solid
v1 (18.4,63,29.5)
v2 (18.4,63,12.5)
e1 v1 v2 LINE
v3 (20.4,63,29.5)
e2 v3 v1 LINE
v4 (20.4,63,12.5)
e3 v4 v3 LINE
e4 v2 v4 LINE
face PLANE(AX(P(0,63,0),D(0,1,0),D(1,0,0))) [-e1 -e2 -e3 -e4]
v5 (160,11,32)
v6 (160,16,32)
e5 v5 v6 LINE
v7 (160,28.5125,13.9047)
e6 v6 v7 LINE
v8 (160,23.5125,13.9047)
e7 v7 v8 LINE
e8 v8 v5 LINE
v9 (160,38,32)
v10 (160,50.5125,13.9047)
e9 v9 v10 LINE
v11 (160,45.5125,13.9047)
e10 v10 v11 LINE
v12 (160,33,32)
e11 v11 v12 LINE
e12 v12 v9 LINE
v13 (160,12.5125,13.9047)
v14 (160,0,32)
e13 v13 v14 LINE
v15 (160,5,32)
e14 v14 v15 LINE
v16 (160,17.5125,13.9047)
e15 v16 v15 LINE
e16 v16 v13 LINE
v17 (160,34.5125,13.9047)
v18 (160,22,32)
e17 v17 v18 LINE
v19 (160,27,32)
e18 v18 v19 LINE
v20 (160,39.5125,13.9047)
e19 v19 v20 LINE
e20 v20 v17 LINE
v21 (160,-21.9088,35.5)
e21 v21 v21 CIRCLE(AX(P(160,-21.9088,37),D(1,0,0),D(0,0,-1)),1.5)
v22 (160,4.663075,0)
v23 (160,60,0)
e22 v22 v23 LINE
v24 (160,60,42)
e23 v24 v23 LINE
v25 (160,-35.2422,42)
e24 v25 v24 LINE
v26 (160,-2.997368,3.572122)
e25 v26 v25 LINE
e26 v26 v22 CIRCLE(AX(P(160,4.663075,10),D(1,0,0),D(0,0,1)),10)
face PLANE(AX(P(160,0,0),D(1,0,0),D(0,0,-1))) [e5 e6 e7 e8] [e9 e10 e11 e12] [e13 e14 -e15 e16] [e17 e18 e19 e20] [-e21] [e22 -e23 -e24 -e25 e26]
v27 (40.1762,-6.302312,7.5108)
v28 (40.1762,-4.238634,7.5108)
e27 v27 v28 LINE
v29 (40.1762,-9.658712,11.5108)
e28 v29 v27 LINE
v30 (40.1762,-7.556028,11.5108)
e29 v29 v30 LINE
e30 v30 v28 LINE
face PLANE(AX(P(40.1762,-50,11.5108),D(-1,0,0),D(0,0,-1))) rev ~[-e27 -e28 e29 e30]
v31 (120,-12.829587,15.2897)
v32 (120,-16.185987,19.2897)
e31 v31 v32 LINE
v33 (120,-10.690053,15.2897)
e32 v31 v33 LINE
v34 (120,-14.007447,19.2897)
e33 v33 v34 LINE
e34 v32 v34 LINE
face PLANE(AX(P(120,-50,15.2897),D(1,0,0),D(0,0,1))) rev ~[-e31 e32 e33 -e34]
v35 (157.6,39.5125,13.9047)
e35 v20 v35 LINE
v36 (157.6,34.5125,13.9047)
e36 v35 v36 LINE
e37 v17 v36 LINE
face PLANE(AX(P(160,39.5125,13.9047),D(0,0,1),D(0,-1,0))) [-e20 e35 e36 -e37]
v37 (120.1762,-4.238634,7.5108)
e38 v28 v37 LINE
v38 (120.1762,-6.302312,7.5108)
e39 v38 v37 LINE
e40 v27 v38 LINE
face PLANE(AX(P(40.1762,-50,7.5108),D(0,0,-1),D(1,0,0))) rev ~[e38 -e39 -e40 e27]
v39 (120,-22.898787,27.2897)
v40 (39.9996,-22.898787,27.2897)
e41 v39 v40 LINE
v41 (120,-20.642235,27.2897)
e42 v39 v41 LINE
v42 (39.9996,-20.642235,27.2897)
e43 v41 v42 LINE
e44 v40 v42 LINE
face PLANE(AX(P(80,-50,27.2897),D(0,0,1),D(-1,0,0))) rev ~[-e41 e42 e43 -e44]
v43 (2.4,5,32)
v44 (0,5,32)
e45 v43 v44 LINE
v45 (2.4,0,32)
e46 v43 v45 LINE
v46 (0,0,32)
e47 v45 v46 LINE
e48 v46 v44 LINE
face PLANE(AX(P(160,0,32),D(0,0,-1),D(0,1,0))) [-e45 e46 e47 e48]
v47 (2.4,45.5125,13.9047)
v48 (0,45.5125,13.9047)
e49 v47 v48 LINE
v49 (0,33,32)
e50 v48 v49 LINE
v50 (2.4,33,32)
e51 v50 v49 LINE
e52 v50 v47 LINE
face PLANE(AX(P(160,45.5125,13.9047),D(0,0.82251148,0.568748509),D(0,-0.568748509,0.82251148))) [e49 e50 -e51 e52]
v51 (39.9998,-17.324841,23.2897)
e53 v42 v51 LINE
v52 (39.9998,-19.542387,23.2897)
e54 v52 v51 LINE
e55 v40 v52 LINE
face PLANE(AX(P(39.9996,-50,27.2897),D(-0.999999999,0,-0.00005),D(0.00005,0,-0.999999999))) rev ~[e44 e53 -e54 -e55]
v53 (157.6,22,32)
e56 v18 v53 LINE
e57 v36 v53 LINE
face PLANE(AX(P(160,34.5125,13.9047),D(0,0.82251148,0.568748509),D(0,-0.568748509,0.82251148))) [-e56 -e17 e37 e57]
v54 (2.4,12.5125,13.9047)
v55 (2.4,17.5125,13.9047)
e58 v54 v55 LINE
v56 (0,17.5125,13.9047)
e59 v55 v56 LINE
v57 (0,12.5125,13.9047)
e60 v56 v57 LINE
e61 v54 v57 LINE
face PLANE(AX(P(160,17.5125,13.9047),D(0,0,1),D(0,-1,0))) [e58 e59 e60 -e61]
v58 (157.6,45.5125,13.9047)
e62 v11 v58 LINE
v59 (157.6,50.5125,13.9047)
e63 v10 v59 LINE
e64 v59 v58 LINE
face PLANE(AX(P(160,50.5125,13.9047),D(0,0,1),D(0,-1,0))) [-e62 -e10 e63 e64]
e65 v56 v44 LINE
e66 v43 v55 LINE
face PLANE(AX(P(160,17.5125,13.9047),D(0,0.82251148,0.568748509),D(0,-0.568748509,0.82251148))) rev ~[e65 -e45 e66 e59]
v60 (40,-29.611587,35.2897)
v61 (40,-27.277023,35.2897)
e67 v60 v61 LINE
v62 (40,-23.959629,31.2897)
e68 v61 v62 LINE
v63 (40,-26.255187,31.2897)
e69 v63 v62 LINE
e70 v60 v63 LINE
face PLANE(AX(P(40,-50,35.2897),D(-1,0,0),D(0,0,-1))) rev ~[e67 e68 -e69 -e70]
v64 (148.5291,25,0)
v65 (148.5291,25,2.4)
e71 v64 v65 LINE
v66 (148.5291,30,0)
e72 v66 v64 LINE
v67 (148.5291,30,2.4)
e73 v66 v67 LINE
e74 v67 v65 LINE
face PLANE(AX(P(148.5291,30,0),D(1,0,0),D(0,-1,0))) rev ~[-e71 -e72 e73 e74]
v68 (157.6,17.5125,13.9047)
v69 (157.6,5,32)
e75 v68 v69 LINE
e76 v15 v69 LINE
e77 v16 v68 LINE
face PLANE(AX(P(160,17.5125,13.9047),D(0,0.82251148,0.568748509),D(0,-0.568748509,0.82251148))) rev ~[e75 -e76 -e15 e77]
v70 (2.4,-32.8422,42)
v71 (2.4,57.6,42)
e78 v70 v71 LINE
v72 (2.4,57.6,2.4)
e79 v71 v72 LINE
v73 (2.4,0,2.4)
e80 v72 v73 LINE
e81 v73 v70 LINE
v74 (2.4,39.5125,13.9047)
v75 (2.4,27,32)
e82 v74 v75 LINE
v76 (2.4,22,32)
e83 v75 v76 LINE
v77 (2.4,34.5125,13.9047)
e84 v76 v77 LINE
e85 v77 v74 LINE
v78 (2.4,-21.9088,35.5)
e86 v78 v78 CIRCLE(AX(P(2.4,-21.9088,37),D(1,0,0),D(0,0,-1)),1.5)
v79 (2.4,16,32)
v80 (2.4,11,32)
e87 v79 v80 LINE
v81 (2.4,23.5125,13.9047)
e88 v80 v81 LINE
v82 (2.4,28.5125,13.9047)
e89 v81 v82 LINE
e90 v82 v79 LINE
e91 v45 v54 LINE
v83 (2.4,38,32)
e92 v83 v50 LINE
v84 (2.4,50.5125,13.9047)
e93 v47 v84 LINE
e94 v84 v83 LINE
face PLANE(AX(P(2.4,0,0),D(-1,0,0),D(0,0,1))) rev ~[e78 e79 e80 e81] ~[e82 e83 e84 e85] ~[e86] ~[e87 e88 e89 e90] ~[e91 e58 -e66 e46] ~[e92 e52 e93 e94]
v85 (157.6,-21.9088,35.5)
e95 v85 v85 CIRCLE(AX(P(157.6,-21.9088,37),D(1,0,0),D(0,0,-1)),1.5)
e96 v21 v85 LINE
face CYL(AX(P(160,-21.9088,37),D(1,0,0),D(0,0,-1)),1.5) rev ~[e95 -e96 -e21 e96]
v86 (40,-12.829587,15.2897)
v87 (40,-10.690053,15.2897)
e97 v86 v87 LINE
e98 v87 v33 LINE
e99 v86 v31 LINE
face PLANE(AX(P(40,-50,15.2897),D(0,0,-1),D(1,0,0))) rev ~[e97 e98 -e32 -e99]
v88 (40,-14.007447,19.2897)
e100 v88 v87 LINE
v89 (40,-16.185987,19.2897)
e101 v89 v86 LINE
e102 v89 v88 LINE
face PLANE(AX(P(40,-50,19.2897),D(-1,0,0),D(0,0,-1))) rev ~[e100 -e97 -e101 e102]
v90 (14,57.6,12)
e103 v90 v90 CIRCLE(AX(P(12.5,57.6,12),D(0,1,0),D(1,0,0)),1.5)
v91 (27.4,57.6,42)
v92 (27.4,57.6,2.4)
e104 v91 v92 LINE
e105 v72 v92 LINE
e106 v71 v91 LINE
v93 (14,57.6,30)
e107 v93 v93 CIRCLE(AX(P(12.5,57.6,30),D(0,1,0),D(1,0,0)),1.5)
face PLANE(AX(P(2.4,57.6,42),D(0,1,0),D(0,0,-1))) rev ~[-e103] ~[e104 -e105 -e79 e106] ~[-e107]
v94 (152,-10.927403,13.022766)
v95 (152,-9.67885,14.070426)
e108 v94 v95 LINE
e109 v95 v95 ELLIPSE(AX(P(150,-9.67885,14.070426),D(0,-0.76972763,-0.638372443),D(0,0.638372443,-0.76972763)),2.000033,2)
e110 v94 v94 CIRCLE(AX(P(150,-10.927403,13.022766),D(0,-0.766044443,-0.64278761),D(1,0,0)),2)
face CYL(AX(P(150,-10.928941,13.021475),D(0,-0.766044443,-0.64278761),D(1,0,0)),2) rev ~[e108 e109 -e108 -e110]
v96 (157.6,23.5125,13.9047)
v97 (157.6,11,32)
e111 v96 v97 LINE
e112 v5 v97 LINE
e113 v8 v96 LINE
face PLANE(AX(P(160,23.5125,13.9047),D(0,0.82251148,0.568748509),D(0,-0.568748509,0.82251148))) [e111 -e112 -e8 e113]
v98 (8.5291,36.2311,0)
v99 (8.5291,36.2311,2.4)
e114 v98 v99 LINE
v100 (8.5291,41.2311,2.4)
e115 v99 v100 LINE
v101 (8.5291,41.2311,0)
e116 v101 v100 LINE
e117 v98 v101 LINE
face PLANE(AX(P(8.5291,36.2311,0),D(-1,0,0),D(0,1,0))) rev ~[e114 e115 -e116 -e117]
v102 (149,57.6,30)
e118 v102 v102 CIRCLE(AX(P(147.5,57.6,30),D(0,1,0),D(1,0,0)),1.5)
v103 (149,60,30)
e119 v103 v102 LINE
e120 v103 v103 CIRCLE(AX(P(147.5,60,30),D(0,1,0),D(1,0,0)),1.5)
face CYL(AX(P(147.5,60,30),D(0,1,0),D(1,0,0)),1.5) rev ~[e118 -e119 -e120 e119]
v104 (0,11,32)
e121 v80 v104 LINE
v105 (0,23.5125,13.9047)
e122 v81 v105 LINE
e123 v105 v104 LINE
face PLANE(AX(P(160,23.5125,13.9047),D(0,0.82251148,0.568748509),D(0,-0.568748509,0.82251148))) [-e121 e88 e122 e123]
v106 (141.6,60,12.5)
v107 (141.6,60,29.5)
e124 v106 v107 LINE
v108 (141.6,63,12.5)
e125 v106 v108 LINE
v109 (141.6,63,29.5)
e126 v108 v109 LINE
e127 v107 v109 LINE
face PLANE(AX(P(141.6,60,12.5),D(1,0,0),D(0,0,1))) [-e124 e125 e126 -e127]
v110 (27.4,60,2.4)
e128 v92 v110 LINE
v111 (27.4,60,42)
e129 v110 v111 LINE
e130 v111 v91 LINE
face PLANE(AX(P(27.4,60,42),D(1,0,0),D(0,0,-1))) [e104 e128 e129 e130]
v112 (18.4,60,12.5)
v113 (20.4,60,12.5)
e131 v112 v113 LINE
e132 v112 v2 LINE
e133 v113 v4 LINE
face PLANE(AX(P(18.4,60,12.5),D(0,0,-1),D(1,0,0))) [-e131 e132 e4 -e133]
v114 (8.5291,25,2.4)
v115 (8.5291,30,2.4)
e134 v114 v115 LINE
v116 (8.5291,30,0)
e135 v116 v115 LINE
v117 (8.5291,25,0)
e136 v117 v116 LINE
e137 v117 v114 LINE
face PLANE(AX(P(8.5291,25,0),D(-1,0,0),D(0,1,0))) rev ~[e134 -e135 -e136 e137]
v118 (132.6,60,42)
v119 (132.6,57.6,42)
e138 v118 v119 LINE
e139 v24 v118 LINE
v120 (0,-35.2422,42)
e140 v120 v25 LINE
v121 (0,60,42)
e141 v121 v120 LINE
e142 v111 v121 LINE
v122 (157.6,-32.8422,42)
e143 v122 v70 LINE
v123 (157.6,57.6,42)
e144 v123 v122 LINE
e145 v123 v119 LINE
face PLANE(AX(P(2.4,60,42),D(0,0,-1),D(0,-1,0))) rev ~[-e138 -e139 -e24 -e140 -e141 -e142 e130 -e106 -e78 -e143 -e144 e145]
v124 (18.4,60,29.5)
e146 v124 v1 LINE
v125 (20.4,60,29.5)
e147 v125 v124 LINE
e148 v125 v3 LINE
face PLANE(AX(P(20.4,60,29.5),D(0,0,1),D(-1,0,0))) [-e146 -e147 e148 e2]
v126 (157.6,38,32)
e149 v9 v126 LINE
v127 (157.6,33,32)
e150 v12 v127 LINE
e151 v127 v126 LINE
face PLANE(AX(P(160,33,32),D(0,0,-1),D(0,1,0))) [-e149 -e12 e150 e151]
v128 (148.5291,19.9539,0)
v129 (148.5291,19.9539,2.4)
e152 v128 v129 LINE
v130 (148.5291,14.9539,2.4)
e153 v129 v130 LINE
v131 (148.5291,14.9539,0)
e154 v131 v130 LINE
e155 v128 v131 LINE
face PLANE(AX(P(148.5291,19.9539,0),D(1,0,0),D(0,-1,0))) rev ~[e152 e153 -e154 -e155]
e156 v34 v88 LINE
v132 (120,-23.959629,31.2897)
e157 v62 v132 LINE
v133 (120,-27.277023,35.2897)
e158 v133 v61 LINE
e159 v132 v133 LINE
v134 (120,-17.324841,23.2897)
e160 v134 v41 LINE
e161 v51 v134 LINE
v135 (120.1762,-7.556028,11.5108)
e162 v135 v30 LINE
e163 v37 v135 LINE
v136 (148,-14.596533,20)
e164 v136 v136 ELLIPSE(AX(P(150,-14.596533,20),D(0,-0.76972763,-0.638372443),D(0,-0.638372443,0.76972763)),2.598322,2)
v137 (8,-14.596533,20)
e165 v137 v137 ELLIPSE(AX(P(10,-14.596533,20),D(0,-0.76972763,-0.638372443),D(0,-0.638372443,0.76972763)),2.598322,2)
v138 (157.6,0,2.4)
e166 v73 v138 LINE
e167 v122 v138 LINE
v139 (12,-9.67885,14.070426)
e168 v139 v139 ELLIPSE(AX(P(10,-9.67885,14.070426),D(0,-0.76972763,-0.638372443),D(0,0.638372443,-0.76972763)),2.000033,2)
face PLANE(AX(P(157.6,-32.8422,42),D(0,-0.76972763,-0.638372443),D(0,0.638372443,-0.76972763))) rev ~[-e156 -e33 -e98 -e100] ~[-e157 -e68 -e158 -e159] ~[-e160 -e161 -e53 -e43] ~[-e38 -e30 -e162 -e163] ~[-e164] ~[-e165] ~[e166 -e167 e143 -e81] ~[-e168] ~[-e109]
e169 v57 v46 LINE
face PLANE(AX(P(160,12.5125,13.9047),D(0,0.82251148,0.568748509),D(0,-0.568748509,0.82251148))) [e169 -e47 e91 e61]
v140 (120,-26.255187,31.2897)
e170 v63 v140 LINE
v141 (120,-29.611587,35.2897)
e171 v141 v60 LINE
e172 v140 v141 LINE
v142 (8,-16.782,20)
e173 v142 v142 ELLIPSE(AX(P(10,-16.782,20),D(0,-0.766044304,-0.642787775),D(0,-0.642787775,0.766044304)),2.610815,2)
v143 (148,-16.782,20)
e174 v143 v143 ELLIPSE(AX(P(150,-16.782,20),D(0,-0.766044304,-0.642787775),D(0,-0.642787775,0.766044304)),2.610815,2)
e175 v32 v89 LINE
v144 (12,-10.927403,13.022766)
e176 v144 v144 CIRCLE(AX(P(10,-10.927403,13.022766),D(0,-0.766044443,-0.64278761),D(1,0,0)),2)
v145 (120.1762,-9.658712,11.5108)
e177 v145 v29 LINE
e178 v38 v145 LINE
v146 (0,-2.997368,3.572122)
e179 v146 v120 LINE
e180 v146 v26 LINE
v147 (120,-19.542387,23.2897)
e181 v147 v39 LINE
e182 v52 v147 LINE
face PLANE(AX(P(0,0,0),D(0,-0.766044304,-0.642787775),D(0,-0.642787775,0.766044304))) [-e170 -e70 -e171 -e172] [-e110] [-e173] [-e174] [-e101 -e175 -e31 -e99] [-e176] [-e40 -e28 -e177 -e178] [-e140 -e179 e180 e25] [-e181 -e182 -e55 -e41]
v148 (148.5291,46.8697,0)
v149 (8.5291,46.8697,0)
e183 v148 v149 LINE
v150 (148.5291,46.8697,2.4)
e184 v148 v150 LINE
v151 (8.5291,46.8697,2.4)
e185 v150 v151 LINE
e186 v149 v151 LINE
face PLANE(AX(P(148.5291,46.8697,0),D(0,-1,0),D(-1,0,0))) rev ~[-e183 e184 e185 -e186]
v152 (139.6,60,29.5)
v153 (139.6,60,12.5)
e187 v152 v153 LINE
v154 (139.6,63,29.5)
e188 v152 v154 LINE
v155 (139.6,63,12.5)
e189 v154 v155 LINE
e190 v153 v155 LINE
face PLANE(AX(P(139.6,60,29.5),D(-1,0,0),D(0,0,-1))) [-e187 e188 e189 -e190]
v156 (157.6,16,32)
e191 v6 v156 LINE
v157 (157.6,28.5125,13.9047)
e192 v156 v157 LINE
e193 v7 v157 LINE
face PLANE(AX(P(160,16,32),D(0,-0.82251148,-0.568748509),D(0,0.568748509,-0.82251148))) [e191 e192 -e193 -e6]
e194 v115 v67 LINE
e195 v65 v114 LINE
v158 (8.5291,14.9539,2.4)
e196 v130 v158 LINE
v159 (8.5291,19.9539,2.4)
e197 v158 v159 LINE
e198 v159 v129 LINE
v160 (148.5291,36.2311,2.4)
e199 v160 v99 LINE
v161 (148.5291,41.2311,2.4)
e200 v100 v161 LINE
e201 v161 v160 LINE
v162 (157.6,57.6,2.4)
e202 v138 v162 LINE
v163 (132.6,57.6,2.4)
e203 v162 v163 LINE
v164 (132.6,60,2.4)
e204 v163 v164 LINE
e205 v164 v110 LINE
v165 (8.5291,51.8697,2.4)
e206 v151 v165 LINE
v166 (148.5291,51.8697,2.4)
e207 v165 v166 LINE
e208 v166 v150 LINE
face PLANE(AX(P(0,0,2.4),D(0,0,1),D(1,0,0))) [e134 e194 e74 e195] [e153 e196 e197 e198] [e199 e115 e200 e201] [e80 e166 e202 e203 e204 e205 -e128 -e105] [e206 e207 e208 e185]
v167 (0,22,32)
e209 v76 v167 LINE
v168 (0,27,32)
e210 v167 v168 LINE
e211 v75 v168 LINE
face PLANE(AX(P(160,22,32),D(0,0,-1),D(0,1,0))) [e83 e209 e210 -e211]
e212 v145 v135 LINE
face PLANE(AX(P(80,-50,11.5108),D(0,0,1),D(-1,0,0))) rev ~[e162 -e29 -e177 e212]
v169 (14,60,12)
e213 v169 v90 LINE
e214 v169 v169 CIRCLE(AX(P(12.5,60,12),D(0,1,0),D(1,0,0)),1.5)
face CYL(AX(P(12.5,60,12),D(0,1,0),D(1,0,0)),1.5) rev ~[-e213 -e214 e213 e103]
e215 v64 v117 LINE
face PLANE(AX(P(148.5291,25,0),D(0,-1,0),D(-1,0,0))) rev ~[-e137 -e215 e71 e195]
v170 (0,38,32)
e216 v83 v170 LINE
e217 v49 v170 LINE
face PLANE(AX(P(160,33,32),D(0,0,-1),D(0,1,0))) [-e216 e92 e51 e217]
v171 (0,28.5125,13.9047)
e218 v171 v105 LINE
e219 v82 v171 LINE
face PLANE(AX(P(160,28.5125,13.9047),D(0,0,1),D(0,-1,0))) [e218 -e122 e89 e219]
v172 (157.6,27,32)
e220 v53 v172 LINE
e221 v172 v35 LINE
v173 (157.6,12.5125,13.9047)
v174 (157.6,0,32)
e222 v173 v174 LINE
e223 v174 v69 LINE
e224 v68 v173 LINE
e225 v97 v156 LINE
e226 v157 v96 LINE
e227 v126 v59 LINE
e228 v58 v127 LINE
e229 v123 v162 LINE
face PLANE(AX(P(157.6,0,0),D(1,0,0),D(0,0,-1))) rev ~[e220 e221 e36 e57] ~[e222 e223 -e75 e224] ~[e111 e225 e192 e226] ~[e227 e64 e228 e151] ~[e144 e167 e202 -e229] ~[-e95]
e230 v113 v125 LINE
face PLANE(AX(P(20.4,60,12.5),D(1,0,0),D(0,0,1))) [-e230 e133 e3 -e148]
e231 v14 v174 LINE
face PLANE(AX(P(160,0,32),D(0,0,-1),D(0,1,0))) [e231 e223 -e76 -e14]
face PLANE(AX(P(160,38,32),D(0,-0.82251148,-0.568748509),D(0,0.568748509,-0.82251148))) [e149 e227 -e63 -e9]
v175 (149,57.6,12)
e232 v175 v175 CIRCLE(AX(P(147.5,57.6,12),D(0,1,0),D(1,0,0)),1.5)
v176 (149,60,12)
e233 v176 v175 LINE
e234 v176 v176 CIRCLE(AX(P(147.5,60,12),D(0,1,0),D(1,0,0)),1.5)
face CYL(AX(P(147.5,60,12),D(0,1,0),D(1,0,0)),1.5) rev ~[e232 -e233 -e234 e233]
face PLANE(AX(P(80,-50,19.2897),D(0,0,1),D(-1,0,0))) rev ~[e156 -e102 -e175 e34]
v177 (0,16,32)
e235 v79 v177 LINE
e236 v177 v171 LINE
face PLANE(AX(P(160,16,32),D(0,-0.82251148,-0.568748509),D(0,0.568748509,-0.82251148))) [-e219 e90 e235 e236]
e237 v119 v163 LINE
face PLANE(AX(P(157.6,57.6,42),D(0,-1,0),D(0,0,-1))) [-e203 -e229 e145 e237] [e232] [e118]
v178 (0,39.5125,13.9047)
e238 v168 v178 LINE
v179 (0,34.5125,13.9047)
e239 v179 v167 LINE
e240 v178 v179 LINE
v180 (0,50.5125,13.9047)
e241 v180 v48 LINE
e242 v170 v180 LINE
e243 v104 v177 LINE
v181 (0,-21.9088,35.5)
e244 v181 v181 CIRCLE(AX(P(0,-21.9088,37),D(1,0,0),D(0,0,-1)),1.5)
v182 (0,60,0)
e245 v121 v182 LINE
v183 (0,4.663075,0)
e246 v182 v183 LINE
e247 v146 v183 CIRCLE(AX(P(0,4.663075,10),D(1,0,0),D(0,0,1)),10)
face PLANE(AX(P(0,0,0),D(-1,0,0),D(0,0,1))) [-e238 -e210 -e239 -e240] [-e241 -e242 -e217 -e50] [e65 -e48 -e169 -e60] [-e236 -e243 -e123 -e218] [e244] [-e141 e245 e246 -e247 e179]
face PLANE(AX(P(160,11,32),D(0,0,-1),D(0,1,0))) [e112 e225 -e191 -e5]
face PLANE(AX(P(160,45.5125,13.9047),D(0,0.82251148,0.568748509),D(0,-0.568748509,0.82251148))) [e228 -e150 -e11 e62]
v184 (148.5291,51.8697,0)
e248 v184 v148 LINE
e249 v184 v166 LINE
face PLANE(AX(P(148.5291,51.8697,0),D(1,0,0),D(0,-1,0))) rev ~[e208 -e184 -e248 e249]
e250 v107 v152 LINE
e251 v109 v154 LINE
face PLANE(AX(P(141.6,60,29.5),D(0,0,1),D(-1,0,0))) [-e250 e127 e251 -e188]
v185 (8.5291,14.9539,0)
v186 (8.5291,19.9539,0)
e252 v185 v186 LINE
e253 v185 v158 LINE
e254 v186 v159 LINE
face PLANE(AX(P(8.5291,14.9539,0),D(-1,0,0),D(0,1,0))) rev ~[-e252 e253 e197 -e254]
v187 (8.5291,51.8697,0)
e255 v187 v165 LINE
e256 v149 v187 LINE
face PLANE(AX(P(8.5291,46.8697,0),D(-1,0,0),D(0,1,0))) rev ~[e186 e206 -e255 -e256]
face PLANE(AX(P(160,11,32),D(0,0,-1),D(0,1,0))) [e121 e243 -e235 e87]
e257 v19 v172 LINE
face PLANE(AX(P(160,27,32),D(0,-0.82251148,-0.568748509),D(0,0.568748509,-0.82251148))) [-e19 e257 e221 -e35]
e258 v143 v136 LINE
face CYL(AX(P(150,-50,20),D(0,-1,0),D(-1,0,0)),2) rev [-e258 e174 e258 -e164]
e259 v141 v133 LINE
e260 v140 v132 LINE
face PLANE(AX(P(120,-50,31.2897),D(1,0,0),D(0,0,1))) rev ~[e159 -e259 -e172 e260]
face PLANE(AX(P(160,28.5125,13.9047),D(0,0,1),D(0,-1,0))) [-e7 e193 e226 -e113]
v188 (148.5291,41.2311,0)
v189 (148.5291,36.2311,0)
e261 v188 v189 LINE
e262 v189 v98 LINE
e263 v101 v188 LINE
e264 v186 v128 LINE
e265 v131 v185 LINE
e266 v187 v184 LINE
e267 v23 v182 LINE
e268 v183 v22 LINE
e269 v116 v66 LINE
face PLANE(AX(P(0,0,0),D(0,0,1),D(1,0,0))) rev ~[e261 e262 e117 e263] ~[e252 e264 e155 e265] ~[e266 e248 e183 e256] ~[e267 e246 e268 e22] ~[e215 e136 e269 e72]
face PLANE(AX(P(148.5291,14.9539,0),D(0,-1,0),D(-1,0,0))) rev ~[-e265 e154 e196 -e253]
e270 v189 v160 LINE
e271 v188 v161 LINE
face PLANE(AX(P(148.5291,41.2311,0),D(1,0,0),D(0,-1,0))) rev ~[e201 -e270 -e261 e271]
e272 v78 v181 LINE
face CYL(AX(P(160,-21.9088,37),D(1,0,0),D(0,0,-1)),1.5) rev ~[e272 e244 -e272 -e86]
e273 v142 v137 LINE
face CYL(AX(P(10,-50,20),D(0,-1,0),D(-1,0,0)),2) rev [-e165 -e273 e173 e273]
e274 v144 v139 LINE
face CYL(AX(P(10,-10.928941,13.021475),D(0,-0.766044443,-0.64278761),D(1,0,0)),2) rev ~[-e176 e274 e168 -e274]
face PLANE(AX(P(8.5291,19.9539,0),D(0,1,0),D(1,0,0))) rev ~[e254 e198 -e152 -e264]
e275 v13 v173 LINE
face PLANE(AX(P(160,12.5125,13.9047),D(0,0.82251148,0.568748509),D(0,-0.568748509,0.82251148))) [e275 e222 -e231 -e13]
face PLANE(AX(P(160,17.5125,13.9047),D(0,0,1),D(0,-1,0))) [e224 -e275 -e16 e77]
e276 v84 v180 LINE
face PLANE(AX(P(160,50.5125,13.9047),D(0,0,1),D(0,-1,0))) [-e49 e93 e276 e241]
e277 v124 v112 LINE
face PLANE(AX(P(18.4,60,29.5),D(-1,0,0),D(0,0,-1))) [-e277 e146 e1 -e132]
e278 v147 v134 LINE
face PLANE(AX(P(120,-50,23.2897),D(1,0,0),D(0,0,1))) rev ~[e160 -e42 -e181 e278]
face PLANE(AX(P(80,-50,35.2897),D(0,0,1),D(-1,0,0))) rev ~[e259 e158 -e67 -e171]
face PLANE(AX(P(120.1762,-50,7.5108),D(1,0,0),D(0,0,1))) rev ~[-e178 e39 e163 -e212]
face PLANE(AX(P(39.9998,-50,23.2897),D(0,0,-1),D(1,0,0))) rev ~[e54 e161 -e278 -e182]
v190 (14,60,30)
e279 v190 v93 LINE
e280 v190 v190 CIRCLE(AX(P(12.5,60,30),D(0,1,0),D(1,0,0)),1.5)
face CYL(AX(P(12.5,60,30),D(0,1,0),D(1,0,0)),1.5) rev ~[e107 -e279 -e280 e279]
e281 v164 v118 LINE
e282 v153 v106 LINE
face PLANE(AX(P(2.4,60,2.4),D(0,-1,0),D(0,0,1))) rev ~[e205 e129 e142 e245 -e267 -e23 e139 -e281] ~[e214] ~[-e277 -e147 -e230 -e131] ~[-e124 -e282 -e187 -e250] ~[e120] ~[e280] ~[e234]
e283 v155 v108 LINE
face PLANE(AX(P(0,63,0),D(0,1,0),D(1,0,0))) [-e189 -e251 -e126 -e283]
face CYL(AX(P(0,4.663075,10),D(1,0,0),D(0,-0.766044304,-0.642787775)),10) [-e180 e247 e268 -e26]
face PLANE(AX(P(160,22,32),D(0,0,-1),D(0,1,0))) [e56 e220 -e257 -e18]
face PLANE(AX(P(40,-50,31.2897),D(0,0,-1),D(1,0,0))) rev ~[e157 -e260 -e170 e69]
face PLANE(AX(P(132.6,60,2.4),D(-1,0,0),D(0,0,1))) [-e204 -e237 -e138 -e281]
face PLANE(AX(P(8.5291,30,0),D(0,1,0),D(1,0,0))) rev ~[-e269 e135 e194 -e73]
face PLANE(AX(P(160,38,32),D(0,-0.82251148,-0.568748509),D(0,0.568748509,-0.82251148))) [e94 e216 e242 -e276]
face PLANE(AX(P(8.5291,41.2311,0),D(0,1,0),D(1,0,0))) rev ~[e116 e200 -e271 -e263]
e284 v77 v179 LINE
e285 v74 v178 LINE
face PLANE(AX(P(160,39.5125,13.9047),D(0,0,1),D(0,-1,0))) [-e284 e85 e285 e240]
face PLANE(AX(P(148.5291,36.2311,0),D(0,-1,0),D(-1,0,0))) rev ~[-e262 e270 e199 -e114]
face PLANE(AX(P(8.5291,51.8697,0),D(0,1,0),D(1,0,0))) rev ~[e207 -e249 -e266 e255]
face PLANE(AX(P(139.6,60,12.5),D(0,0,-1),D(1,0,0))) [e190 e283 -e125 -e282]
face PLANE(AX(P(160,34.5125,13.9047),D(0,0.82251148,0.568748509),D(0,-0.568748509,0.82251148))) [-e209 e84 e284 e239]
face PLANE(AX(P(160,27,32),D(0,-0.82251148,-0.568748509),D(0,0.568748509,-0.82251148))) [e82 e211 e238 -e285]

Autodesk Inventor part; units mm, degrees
ref_plane "YZ Plane" through (0, 0, 0) normal (1, 0, 0) x (0, 1, 0)
ref_plane "XY Plane" through (0, 0, 0) normal (0, 0, 1) x (1, 0, 0)
sketch "Sketch1" plane through (0, 0, 0) normal (0, 0, 1) x (1, 0, 0)
  line L0 (0, 0) -> (160, 0)
  line L1 (160, 0) -> (160, 60)
  line L2 (160, 60) -> (0, 60)
  line L3 (0, 60) -> (0, 0)
  line L4 (8.5291, 51.8697) -> (148.5291, 51.8697)
  line L5 (148.5291, 51.8697) -> (148.5291, 46.8697)
  line L6 (148.5291, 46.8697) -> (8.5291, 46.8697)
  line L7 (8.5291, 46.8697) -> (8.5291, 51.8697)
  line L8 (8.5291, 41.2311) -> (148.5291, 41.2311)
  line L9 (148.5291, 41.2311) -> (148.5291, 36.2311)
  line L10 (148.5291, 36.2311) -> (8.5291, 36.2311)
  line L11 (8.5291, 36.2311) -> (8.5291, 41.2311)
  line L12 (8.5291, 30) -> (148.5291, 30)
  line L13 (148.5291, 30) -> (148.5291, 25)
  line L14 (148.5291, 25) -> (8.5291, 25)
  line L15 (8.5291, 25) -> (8.5291, 30)
  line L16 (8.5291, 19.9539) -> (148.5291, 19.9539)
  line L17 (148.5291, 19.9539) -> (148.5291, 14.9539)
  line L18 (148.5291, 14.9539) -> (8.5291, 14.9539)
  line L19 (8.5291, 14.9539) -> (8.5291, 19.9539)
  dimension "d0" = 160
  dimension "d1" = 60
  dimension "d2" = 140
  dimension "d3" = 5
  dimension "d4" = 5
  dimension "d5" = 5
  dimension "d6" = 5
extrude "Extrusion1" add sketch "Sketch1" along normal blind 2.4
sketch "Sketch2" plane through (0, 0, 2.4) normal (0, 0, 1) x (1, 0, 0)
  line L0 (0, 60) -> (0, 0) projected
  line L1 (0, 0) -> (160, 0) projected
  line L2 (0, 60) -> (2.4, 60)
  line L3 (2.4, 60) -> (2.4, 0)
  line L4 (2.4, 0) -> (0, 0)
  line L5 (0, 0) -> (0, 60)
  line L6 (160, 60) -> (0, 60) projected
  line L7 (160, 0) -> (157.6, 0)
  line L8 (157.6, 0) -> (157.6, 60)
  line L9 (157.6, 60) -> (160, 60)
  line L10 (160, 60) -> (160, 0)
  dimension "d9" = 2.4
  dimension "d10" = 2.4
extrude "Extrusion2" add sketch "Sketch2" along normal blind 39.6 contours L2 L3 L1 L0 | L6 L10 L1 L8
sketch "Sketch3" plane through (160, 0, 0) normal (1, 0, 0) x (0, 0, -1)
  line L0 (0, 0) -> (-42, -35.2422)
  line L1 (0, 0) -> (54.8271, 0) construction
  line L2 (-42, 0) -> (-42, 60) projected
  line L3 (-42, -35.2422) -> (-42, 0)
  line L4 (-42, 0) -> (0, 0)
  dimension "d13" = 140
extrude "Extrusion3" add sketch "Sketch3" against normal blind 2.4
sketch "Sketch4" plane through (0, 0, 0) normal (-1, 0, 0) x (0, 0, 1)
  line L0 (0, 0) -> (42, 0) projected
  line L1 (42, 0) -> (0, 0)
  line L2 (0, 0) -> (42, -35.2422) projected
  line L3 (0, 0) -> (42, -35.2422)
  line L4 (42, -35.2422) -> (42, 0)
extrude "Extrusion4" add sketch "Sketch4" against normal blind 2.4
sketch "Sketch5" plane through (157.6, 0, 2.4) normal (-1, 0, 0) x (0, 0, 1)
  line L0 (-2.4, 0) -> (0, 0)
  line L1 (39.6, 60) -> (39.6, -35.2422) projected
  line L2 (39.6, -35.2422) -> (39.6, -32.8422)
  line L3 (39.6, -32.8422) -> (0, 0)
  line L4 (-2.4, 0) -> (39.6, -35.2422)
  dimension "d18" = 2.4
extrude "Extrusion5" add sketch "Sketch5" along normal blind 157.6
sketch "Sketch6" plane through (160, 60, 42) normal (1, 0, 0) x (0, 0, -1)
  line L0 (10, -60) -> (10, -55)
  line L1 (10, -49) -> (10, -44)
  line L2 (10, -38) -> (10, -33)
  line L3 (10, -27) -> (10, -22)
  line L4 (10, -22) -> (28.0953, -9.4875)
  line L5 (28.0953, -9.4875) -> (28.0953, -14.4875)
  line L6 (42, 0) -> (0, 0) projected
  line L7 (28.0953, -20.4875) -> (28.0953, -25.4875)
  line L8 (28.0953, -31.4875) -> (28.0953, -36.4875)
  line L9 (28.0953, -42.4875) -> (28.0953, -47.4875)
  line L10 (28.0953, -47.4875) -> (10, -60)
  line L11 (28.0953, -42.4875) -> (10, -55)
  line L12 (28.0953, -36.4875) -> (10, -49)
  line L13 (10, -44) -> (28.0953, -31.4875)
  line L14 (28.0953, -25.4875) -> (10, -38)
  line L15 (10, -33) -> (28.0953, -20.4875)
  line L16 (28.0953, -14.4875) -> (10, -27)
  line L17 (0, -95.2422) -> (0, 0) projected
  circle A0 centre (5, -81.9088) radius 1.5
  line L18 (42, -60) -> (0, -95.2422) projected
  dimension "d21" = 5
  dimension "d22" = 6
  dimension "d23" = 5
  dimension "d24" = 6
  dimension "d25" = 5
  dimension "d26" = 6
  dimension "d27" = 5
  dimension "d28" = 22
  dimension "d29" = 5
  dimension "d30" = 6
  dimension "d31" = 5
  dimension "d32" = 6
  dimension "d33" = 5
  dimension "d34" = 6
  dimension "d35" = 5
  dimension "d36" = 10
  dimension "d77" = 3
  dimension "d78" = 7
  dimension "d79" = 5
ref_plane "Work Plane1" through (0, -50, 0) normal (0, 1, 0) x (-1, 0, 0)
sketch "Sketch7" plane through (0, -50, 0) normal (0, 1, 0) x (-1, 0, 0)
  circle A0 centre (-10, 20) radius 2
  line L0 (-157.6, 42) -> (-2.4, 42) projected
  line L1 (-80, 42) -> (-80, 0)
  line L2 (-8.5291, 0) -> (-148.5291, 0) projected
  circle A1 centre (-150, 20) radius 2
  line L3 (-160, 0) -> (-160, 42) projected
  line L4 (0, 0) -> (0, 42) projected
  line L5 (0, 0) -> (-160, 0) projected
  line L6 (-80, 35.2897) -> (-40, 35.2897)
  line L7 (-40, 35.2897) -> (-40, 31.2897)
  line L8 (-40, 31.2897) -> (-120, 31.2897)
  line L9 (-120, 31.2897) -> (-120, 35.2897)
  line L10 (-120, 35.2897) -> (-80, 35.2897)
  line L11 (-39.9996, 27.2897) -> (-39.9998, 23.2897)
  line L12 (-40, 19.2897) -> (-40, 15.2897)
  line L13 (-40, 15.2897) -> (-120, 15.2897)
  line L14 (-120, 15.2897) -> (-120, 19.2897)
  line L15 (-120, 19.2897) -> (-40, 19.2897)
  line L16 (-39.9998, 23.2897) -> (-120, 23.2897)
  line L17 (-120, 23.2897) -> (-120, 27.2897)
  line L18 (-120, 27.2897) -> (-39.9996, 27.2897)
  line L19 (-40.1762, 11.5108) -> (-40.1762, 7.5108)
  line L20 (-40.1762, 7.5108) -> (-120.1762, 7.5108)
  line L21 (-120.1762, 7.5108) -> (-120.1762, 11.5108)
  line L22 (-120.1762, 11.5108) -> (-40.1762, 11.5108)
  dimension "d40" = 4
  dimension "d41" = 4
  dimension "d42" = 10
  dimension "d43" = 10
  dimension "d44" = 20
  dimension "d45" = 20
  dimension "d46" = 40
  dimension "d47" = 4
  dimension "d49" = 4
  dimension "d50" = 4
  dimension "d51" = 4
  dimension "d52" = 4
  dimension "d55" = 4
  dimension "d56" = 80
  dimension "d57" = 80
  dimension "d58" = 80
  dimension "d59" = 80.0002
  dimension "d60" = 80
extrude "Extrusion8" cut sketch "Sketch7" along normal blind 160
sketch "Sketch8" plane through (0, -35.2422, 42) normal (0, -0.766, -0.6428) x (1, 0, 0)
  circle A0 centre (10, -37.8271) radius 2
  line L0 (0, -54.8271) -> (0, 0) projected
  circle A1 centre (150, -37.8271) radius 2
  line L1 (160, -54.8271) -> (160, 0) projected
  line L2 (0, -54.8271) -> (160, -54.8271) projected
  dimension "d63" = 4
  dimension "d64" = 10
  dimension "d65" = 4
  dimension "d66" = 10
  dimension "d67" = 17
  dimension "d68" = 17
extrude "Extrusion9" cut sketch "Sketch8" against normal blind 160
sketch "Sketch9" plane through (157.6, 60, 2.4) normal (-1, 0, 0) x (0, 0, 1)
  line L0 (39.6, 0) -> (39.6, -92.8422) projected
  line L1 (0, 0) -> (39.6, 0)
  line L2 (39.6, 0) -> (39.6, -2.4)
  line L3 (39.6, -2.4) -> (0, -2.4)
  line L4 (0, -2.4) -> (0, 0)
  point P0 (-2.4, -60)
  dimension "d71" = 2.4
extrude "Extrusion10" add sketch "Sketch9" along normal blind 25
sketch "Sketch10" plane through (2.4, 60, 42) normal (1, 0, 0) x (0, 0, -1)
  line L0 (39.6, 0) -> (0, 0) projected
  line L1 (0, 0) -> (0, -92.8422) projected
  line L2 (39.6, 0) -> (0, 0)
  line L3 (0, 0) -> (0, -2.4)
  line L4 (0, -2.4) -> (39.6, -2.4)
  line L5 (39.6, -2.4) -> (39.6, 0)
  point P0 (42, -60)
  dimension "d74" = 2.4
extrude "Extrusion11" add sketch "Sketch10" along normal blind 25
extrude "Extrusion12" cut sketch "Sketch6" against normal blind 160
sketch "Sketch11" plane through (0, 60, 0) normal (0, 1, 0) x (1, 0, 0)
  circle A0 centre (147.5, -30) radius 1.5
  line L0 (160, 0) -> (160, -42) projected
  line L1 (160, -42) -> (132.6, -42) projected
  circle A1 centre (147.5, -12) radius 1.5
  line L2 (160, 0) -> (0, 0) projected
  circle A2 centre (12.5, -30) radius 1.5
  circle A3 centre (12.5, -12) radius 1.5
  line L3 (0, 0) -> (0, -42) projected
  line L4 (0, -42) -> (27.4, -42) projected
  line L5 (141.6, -29.5) -> (139.6, -29.5)
  line L6 (139.6, -29.5) -> (139.6, -12.5)
  line L7 (139.6, -12.5) -> (141.6, -12.5)
  line L8 (141.6, -12.5) -> (141.6, -29.5)
  line L9 (132.6, -42) -> (132.6, -2.4) projected
  line L10 (20.4, -29.5) -> (18.4, -29.5)
  line L11 (18.4, -29.5) -> (18.4, -12.5)
  line L12 (18.4, -12.5) -> (20.4, -12.5)
  line L13 (20.4, -12.5) -> (20.4, -29.5)
  line L14 (27.4, -2.4) -> (27.4, -42) projected
  dimension "d82" = 3
  dimension "d83" = 12.5
  dimension "d84" = 12
  dimension "d85" = 3
  dimension "d86" = 12.5
  dimension "d87" = 12
  dimension "d88" = 3
  dimension "d89" = 3
  dimension "d90" = 12.5
  dimension "d91" = 12
  dimension "d92" = 12
  dimension "d93" = 12.5
  dimension "d96" = 7
  dimension "d97" = 2
  dimension "d98" = 12.5
  dimension "d99" = 12.5
  dimension "d101" = 2
  dimension "d103" = 7
  dimension "d104" = 12.5
  dimension "d107" = 12.5
extrude "Extrusion13" cut sketch "Sketch11" against normal blind 12 contours A0 | A1 | A2 | A3
extrude "Extrusion14" add sketch "Sketch11" along normal blind 3 contours L5 L6 L7 L8 | L10 L11 L12 L13
fillet "Fillet1" radius 10 1 edges at (80, 0, 0)
equation "\"d42\" = d43"
equation "\"d45\" = d44"
equation "\"d66\" = d64"
equation "\"d68\" = d67"
equation "\"d86\" = d83"
equation "\"d87\" = d84"
equation "\"d90\" = d86"
equation "\"d91\" = d87"
equation "\"d92\" = d84"
equation "\"d93\" = d83"
equation "\"d103\" = d96"
equation "\"d104\" = d99"
equation "\"d107\" = d98"
properties part number "Chassi_Front"
